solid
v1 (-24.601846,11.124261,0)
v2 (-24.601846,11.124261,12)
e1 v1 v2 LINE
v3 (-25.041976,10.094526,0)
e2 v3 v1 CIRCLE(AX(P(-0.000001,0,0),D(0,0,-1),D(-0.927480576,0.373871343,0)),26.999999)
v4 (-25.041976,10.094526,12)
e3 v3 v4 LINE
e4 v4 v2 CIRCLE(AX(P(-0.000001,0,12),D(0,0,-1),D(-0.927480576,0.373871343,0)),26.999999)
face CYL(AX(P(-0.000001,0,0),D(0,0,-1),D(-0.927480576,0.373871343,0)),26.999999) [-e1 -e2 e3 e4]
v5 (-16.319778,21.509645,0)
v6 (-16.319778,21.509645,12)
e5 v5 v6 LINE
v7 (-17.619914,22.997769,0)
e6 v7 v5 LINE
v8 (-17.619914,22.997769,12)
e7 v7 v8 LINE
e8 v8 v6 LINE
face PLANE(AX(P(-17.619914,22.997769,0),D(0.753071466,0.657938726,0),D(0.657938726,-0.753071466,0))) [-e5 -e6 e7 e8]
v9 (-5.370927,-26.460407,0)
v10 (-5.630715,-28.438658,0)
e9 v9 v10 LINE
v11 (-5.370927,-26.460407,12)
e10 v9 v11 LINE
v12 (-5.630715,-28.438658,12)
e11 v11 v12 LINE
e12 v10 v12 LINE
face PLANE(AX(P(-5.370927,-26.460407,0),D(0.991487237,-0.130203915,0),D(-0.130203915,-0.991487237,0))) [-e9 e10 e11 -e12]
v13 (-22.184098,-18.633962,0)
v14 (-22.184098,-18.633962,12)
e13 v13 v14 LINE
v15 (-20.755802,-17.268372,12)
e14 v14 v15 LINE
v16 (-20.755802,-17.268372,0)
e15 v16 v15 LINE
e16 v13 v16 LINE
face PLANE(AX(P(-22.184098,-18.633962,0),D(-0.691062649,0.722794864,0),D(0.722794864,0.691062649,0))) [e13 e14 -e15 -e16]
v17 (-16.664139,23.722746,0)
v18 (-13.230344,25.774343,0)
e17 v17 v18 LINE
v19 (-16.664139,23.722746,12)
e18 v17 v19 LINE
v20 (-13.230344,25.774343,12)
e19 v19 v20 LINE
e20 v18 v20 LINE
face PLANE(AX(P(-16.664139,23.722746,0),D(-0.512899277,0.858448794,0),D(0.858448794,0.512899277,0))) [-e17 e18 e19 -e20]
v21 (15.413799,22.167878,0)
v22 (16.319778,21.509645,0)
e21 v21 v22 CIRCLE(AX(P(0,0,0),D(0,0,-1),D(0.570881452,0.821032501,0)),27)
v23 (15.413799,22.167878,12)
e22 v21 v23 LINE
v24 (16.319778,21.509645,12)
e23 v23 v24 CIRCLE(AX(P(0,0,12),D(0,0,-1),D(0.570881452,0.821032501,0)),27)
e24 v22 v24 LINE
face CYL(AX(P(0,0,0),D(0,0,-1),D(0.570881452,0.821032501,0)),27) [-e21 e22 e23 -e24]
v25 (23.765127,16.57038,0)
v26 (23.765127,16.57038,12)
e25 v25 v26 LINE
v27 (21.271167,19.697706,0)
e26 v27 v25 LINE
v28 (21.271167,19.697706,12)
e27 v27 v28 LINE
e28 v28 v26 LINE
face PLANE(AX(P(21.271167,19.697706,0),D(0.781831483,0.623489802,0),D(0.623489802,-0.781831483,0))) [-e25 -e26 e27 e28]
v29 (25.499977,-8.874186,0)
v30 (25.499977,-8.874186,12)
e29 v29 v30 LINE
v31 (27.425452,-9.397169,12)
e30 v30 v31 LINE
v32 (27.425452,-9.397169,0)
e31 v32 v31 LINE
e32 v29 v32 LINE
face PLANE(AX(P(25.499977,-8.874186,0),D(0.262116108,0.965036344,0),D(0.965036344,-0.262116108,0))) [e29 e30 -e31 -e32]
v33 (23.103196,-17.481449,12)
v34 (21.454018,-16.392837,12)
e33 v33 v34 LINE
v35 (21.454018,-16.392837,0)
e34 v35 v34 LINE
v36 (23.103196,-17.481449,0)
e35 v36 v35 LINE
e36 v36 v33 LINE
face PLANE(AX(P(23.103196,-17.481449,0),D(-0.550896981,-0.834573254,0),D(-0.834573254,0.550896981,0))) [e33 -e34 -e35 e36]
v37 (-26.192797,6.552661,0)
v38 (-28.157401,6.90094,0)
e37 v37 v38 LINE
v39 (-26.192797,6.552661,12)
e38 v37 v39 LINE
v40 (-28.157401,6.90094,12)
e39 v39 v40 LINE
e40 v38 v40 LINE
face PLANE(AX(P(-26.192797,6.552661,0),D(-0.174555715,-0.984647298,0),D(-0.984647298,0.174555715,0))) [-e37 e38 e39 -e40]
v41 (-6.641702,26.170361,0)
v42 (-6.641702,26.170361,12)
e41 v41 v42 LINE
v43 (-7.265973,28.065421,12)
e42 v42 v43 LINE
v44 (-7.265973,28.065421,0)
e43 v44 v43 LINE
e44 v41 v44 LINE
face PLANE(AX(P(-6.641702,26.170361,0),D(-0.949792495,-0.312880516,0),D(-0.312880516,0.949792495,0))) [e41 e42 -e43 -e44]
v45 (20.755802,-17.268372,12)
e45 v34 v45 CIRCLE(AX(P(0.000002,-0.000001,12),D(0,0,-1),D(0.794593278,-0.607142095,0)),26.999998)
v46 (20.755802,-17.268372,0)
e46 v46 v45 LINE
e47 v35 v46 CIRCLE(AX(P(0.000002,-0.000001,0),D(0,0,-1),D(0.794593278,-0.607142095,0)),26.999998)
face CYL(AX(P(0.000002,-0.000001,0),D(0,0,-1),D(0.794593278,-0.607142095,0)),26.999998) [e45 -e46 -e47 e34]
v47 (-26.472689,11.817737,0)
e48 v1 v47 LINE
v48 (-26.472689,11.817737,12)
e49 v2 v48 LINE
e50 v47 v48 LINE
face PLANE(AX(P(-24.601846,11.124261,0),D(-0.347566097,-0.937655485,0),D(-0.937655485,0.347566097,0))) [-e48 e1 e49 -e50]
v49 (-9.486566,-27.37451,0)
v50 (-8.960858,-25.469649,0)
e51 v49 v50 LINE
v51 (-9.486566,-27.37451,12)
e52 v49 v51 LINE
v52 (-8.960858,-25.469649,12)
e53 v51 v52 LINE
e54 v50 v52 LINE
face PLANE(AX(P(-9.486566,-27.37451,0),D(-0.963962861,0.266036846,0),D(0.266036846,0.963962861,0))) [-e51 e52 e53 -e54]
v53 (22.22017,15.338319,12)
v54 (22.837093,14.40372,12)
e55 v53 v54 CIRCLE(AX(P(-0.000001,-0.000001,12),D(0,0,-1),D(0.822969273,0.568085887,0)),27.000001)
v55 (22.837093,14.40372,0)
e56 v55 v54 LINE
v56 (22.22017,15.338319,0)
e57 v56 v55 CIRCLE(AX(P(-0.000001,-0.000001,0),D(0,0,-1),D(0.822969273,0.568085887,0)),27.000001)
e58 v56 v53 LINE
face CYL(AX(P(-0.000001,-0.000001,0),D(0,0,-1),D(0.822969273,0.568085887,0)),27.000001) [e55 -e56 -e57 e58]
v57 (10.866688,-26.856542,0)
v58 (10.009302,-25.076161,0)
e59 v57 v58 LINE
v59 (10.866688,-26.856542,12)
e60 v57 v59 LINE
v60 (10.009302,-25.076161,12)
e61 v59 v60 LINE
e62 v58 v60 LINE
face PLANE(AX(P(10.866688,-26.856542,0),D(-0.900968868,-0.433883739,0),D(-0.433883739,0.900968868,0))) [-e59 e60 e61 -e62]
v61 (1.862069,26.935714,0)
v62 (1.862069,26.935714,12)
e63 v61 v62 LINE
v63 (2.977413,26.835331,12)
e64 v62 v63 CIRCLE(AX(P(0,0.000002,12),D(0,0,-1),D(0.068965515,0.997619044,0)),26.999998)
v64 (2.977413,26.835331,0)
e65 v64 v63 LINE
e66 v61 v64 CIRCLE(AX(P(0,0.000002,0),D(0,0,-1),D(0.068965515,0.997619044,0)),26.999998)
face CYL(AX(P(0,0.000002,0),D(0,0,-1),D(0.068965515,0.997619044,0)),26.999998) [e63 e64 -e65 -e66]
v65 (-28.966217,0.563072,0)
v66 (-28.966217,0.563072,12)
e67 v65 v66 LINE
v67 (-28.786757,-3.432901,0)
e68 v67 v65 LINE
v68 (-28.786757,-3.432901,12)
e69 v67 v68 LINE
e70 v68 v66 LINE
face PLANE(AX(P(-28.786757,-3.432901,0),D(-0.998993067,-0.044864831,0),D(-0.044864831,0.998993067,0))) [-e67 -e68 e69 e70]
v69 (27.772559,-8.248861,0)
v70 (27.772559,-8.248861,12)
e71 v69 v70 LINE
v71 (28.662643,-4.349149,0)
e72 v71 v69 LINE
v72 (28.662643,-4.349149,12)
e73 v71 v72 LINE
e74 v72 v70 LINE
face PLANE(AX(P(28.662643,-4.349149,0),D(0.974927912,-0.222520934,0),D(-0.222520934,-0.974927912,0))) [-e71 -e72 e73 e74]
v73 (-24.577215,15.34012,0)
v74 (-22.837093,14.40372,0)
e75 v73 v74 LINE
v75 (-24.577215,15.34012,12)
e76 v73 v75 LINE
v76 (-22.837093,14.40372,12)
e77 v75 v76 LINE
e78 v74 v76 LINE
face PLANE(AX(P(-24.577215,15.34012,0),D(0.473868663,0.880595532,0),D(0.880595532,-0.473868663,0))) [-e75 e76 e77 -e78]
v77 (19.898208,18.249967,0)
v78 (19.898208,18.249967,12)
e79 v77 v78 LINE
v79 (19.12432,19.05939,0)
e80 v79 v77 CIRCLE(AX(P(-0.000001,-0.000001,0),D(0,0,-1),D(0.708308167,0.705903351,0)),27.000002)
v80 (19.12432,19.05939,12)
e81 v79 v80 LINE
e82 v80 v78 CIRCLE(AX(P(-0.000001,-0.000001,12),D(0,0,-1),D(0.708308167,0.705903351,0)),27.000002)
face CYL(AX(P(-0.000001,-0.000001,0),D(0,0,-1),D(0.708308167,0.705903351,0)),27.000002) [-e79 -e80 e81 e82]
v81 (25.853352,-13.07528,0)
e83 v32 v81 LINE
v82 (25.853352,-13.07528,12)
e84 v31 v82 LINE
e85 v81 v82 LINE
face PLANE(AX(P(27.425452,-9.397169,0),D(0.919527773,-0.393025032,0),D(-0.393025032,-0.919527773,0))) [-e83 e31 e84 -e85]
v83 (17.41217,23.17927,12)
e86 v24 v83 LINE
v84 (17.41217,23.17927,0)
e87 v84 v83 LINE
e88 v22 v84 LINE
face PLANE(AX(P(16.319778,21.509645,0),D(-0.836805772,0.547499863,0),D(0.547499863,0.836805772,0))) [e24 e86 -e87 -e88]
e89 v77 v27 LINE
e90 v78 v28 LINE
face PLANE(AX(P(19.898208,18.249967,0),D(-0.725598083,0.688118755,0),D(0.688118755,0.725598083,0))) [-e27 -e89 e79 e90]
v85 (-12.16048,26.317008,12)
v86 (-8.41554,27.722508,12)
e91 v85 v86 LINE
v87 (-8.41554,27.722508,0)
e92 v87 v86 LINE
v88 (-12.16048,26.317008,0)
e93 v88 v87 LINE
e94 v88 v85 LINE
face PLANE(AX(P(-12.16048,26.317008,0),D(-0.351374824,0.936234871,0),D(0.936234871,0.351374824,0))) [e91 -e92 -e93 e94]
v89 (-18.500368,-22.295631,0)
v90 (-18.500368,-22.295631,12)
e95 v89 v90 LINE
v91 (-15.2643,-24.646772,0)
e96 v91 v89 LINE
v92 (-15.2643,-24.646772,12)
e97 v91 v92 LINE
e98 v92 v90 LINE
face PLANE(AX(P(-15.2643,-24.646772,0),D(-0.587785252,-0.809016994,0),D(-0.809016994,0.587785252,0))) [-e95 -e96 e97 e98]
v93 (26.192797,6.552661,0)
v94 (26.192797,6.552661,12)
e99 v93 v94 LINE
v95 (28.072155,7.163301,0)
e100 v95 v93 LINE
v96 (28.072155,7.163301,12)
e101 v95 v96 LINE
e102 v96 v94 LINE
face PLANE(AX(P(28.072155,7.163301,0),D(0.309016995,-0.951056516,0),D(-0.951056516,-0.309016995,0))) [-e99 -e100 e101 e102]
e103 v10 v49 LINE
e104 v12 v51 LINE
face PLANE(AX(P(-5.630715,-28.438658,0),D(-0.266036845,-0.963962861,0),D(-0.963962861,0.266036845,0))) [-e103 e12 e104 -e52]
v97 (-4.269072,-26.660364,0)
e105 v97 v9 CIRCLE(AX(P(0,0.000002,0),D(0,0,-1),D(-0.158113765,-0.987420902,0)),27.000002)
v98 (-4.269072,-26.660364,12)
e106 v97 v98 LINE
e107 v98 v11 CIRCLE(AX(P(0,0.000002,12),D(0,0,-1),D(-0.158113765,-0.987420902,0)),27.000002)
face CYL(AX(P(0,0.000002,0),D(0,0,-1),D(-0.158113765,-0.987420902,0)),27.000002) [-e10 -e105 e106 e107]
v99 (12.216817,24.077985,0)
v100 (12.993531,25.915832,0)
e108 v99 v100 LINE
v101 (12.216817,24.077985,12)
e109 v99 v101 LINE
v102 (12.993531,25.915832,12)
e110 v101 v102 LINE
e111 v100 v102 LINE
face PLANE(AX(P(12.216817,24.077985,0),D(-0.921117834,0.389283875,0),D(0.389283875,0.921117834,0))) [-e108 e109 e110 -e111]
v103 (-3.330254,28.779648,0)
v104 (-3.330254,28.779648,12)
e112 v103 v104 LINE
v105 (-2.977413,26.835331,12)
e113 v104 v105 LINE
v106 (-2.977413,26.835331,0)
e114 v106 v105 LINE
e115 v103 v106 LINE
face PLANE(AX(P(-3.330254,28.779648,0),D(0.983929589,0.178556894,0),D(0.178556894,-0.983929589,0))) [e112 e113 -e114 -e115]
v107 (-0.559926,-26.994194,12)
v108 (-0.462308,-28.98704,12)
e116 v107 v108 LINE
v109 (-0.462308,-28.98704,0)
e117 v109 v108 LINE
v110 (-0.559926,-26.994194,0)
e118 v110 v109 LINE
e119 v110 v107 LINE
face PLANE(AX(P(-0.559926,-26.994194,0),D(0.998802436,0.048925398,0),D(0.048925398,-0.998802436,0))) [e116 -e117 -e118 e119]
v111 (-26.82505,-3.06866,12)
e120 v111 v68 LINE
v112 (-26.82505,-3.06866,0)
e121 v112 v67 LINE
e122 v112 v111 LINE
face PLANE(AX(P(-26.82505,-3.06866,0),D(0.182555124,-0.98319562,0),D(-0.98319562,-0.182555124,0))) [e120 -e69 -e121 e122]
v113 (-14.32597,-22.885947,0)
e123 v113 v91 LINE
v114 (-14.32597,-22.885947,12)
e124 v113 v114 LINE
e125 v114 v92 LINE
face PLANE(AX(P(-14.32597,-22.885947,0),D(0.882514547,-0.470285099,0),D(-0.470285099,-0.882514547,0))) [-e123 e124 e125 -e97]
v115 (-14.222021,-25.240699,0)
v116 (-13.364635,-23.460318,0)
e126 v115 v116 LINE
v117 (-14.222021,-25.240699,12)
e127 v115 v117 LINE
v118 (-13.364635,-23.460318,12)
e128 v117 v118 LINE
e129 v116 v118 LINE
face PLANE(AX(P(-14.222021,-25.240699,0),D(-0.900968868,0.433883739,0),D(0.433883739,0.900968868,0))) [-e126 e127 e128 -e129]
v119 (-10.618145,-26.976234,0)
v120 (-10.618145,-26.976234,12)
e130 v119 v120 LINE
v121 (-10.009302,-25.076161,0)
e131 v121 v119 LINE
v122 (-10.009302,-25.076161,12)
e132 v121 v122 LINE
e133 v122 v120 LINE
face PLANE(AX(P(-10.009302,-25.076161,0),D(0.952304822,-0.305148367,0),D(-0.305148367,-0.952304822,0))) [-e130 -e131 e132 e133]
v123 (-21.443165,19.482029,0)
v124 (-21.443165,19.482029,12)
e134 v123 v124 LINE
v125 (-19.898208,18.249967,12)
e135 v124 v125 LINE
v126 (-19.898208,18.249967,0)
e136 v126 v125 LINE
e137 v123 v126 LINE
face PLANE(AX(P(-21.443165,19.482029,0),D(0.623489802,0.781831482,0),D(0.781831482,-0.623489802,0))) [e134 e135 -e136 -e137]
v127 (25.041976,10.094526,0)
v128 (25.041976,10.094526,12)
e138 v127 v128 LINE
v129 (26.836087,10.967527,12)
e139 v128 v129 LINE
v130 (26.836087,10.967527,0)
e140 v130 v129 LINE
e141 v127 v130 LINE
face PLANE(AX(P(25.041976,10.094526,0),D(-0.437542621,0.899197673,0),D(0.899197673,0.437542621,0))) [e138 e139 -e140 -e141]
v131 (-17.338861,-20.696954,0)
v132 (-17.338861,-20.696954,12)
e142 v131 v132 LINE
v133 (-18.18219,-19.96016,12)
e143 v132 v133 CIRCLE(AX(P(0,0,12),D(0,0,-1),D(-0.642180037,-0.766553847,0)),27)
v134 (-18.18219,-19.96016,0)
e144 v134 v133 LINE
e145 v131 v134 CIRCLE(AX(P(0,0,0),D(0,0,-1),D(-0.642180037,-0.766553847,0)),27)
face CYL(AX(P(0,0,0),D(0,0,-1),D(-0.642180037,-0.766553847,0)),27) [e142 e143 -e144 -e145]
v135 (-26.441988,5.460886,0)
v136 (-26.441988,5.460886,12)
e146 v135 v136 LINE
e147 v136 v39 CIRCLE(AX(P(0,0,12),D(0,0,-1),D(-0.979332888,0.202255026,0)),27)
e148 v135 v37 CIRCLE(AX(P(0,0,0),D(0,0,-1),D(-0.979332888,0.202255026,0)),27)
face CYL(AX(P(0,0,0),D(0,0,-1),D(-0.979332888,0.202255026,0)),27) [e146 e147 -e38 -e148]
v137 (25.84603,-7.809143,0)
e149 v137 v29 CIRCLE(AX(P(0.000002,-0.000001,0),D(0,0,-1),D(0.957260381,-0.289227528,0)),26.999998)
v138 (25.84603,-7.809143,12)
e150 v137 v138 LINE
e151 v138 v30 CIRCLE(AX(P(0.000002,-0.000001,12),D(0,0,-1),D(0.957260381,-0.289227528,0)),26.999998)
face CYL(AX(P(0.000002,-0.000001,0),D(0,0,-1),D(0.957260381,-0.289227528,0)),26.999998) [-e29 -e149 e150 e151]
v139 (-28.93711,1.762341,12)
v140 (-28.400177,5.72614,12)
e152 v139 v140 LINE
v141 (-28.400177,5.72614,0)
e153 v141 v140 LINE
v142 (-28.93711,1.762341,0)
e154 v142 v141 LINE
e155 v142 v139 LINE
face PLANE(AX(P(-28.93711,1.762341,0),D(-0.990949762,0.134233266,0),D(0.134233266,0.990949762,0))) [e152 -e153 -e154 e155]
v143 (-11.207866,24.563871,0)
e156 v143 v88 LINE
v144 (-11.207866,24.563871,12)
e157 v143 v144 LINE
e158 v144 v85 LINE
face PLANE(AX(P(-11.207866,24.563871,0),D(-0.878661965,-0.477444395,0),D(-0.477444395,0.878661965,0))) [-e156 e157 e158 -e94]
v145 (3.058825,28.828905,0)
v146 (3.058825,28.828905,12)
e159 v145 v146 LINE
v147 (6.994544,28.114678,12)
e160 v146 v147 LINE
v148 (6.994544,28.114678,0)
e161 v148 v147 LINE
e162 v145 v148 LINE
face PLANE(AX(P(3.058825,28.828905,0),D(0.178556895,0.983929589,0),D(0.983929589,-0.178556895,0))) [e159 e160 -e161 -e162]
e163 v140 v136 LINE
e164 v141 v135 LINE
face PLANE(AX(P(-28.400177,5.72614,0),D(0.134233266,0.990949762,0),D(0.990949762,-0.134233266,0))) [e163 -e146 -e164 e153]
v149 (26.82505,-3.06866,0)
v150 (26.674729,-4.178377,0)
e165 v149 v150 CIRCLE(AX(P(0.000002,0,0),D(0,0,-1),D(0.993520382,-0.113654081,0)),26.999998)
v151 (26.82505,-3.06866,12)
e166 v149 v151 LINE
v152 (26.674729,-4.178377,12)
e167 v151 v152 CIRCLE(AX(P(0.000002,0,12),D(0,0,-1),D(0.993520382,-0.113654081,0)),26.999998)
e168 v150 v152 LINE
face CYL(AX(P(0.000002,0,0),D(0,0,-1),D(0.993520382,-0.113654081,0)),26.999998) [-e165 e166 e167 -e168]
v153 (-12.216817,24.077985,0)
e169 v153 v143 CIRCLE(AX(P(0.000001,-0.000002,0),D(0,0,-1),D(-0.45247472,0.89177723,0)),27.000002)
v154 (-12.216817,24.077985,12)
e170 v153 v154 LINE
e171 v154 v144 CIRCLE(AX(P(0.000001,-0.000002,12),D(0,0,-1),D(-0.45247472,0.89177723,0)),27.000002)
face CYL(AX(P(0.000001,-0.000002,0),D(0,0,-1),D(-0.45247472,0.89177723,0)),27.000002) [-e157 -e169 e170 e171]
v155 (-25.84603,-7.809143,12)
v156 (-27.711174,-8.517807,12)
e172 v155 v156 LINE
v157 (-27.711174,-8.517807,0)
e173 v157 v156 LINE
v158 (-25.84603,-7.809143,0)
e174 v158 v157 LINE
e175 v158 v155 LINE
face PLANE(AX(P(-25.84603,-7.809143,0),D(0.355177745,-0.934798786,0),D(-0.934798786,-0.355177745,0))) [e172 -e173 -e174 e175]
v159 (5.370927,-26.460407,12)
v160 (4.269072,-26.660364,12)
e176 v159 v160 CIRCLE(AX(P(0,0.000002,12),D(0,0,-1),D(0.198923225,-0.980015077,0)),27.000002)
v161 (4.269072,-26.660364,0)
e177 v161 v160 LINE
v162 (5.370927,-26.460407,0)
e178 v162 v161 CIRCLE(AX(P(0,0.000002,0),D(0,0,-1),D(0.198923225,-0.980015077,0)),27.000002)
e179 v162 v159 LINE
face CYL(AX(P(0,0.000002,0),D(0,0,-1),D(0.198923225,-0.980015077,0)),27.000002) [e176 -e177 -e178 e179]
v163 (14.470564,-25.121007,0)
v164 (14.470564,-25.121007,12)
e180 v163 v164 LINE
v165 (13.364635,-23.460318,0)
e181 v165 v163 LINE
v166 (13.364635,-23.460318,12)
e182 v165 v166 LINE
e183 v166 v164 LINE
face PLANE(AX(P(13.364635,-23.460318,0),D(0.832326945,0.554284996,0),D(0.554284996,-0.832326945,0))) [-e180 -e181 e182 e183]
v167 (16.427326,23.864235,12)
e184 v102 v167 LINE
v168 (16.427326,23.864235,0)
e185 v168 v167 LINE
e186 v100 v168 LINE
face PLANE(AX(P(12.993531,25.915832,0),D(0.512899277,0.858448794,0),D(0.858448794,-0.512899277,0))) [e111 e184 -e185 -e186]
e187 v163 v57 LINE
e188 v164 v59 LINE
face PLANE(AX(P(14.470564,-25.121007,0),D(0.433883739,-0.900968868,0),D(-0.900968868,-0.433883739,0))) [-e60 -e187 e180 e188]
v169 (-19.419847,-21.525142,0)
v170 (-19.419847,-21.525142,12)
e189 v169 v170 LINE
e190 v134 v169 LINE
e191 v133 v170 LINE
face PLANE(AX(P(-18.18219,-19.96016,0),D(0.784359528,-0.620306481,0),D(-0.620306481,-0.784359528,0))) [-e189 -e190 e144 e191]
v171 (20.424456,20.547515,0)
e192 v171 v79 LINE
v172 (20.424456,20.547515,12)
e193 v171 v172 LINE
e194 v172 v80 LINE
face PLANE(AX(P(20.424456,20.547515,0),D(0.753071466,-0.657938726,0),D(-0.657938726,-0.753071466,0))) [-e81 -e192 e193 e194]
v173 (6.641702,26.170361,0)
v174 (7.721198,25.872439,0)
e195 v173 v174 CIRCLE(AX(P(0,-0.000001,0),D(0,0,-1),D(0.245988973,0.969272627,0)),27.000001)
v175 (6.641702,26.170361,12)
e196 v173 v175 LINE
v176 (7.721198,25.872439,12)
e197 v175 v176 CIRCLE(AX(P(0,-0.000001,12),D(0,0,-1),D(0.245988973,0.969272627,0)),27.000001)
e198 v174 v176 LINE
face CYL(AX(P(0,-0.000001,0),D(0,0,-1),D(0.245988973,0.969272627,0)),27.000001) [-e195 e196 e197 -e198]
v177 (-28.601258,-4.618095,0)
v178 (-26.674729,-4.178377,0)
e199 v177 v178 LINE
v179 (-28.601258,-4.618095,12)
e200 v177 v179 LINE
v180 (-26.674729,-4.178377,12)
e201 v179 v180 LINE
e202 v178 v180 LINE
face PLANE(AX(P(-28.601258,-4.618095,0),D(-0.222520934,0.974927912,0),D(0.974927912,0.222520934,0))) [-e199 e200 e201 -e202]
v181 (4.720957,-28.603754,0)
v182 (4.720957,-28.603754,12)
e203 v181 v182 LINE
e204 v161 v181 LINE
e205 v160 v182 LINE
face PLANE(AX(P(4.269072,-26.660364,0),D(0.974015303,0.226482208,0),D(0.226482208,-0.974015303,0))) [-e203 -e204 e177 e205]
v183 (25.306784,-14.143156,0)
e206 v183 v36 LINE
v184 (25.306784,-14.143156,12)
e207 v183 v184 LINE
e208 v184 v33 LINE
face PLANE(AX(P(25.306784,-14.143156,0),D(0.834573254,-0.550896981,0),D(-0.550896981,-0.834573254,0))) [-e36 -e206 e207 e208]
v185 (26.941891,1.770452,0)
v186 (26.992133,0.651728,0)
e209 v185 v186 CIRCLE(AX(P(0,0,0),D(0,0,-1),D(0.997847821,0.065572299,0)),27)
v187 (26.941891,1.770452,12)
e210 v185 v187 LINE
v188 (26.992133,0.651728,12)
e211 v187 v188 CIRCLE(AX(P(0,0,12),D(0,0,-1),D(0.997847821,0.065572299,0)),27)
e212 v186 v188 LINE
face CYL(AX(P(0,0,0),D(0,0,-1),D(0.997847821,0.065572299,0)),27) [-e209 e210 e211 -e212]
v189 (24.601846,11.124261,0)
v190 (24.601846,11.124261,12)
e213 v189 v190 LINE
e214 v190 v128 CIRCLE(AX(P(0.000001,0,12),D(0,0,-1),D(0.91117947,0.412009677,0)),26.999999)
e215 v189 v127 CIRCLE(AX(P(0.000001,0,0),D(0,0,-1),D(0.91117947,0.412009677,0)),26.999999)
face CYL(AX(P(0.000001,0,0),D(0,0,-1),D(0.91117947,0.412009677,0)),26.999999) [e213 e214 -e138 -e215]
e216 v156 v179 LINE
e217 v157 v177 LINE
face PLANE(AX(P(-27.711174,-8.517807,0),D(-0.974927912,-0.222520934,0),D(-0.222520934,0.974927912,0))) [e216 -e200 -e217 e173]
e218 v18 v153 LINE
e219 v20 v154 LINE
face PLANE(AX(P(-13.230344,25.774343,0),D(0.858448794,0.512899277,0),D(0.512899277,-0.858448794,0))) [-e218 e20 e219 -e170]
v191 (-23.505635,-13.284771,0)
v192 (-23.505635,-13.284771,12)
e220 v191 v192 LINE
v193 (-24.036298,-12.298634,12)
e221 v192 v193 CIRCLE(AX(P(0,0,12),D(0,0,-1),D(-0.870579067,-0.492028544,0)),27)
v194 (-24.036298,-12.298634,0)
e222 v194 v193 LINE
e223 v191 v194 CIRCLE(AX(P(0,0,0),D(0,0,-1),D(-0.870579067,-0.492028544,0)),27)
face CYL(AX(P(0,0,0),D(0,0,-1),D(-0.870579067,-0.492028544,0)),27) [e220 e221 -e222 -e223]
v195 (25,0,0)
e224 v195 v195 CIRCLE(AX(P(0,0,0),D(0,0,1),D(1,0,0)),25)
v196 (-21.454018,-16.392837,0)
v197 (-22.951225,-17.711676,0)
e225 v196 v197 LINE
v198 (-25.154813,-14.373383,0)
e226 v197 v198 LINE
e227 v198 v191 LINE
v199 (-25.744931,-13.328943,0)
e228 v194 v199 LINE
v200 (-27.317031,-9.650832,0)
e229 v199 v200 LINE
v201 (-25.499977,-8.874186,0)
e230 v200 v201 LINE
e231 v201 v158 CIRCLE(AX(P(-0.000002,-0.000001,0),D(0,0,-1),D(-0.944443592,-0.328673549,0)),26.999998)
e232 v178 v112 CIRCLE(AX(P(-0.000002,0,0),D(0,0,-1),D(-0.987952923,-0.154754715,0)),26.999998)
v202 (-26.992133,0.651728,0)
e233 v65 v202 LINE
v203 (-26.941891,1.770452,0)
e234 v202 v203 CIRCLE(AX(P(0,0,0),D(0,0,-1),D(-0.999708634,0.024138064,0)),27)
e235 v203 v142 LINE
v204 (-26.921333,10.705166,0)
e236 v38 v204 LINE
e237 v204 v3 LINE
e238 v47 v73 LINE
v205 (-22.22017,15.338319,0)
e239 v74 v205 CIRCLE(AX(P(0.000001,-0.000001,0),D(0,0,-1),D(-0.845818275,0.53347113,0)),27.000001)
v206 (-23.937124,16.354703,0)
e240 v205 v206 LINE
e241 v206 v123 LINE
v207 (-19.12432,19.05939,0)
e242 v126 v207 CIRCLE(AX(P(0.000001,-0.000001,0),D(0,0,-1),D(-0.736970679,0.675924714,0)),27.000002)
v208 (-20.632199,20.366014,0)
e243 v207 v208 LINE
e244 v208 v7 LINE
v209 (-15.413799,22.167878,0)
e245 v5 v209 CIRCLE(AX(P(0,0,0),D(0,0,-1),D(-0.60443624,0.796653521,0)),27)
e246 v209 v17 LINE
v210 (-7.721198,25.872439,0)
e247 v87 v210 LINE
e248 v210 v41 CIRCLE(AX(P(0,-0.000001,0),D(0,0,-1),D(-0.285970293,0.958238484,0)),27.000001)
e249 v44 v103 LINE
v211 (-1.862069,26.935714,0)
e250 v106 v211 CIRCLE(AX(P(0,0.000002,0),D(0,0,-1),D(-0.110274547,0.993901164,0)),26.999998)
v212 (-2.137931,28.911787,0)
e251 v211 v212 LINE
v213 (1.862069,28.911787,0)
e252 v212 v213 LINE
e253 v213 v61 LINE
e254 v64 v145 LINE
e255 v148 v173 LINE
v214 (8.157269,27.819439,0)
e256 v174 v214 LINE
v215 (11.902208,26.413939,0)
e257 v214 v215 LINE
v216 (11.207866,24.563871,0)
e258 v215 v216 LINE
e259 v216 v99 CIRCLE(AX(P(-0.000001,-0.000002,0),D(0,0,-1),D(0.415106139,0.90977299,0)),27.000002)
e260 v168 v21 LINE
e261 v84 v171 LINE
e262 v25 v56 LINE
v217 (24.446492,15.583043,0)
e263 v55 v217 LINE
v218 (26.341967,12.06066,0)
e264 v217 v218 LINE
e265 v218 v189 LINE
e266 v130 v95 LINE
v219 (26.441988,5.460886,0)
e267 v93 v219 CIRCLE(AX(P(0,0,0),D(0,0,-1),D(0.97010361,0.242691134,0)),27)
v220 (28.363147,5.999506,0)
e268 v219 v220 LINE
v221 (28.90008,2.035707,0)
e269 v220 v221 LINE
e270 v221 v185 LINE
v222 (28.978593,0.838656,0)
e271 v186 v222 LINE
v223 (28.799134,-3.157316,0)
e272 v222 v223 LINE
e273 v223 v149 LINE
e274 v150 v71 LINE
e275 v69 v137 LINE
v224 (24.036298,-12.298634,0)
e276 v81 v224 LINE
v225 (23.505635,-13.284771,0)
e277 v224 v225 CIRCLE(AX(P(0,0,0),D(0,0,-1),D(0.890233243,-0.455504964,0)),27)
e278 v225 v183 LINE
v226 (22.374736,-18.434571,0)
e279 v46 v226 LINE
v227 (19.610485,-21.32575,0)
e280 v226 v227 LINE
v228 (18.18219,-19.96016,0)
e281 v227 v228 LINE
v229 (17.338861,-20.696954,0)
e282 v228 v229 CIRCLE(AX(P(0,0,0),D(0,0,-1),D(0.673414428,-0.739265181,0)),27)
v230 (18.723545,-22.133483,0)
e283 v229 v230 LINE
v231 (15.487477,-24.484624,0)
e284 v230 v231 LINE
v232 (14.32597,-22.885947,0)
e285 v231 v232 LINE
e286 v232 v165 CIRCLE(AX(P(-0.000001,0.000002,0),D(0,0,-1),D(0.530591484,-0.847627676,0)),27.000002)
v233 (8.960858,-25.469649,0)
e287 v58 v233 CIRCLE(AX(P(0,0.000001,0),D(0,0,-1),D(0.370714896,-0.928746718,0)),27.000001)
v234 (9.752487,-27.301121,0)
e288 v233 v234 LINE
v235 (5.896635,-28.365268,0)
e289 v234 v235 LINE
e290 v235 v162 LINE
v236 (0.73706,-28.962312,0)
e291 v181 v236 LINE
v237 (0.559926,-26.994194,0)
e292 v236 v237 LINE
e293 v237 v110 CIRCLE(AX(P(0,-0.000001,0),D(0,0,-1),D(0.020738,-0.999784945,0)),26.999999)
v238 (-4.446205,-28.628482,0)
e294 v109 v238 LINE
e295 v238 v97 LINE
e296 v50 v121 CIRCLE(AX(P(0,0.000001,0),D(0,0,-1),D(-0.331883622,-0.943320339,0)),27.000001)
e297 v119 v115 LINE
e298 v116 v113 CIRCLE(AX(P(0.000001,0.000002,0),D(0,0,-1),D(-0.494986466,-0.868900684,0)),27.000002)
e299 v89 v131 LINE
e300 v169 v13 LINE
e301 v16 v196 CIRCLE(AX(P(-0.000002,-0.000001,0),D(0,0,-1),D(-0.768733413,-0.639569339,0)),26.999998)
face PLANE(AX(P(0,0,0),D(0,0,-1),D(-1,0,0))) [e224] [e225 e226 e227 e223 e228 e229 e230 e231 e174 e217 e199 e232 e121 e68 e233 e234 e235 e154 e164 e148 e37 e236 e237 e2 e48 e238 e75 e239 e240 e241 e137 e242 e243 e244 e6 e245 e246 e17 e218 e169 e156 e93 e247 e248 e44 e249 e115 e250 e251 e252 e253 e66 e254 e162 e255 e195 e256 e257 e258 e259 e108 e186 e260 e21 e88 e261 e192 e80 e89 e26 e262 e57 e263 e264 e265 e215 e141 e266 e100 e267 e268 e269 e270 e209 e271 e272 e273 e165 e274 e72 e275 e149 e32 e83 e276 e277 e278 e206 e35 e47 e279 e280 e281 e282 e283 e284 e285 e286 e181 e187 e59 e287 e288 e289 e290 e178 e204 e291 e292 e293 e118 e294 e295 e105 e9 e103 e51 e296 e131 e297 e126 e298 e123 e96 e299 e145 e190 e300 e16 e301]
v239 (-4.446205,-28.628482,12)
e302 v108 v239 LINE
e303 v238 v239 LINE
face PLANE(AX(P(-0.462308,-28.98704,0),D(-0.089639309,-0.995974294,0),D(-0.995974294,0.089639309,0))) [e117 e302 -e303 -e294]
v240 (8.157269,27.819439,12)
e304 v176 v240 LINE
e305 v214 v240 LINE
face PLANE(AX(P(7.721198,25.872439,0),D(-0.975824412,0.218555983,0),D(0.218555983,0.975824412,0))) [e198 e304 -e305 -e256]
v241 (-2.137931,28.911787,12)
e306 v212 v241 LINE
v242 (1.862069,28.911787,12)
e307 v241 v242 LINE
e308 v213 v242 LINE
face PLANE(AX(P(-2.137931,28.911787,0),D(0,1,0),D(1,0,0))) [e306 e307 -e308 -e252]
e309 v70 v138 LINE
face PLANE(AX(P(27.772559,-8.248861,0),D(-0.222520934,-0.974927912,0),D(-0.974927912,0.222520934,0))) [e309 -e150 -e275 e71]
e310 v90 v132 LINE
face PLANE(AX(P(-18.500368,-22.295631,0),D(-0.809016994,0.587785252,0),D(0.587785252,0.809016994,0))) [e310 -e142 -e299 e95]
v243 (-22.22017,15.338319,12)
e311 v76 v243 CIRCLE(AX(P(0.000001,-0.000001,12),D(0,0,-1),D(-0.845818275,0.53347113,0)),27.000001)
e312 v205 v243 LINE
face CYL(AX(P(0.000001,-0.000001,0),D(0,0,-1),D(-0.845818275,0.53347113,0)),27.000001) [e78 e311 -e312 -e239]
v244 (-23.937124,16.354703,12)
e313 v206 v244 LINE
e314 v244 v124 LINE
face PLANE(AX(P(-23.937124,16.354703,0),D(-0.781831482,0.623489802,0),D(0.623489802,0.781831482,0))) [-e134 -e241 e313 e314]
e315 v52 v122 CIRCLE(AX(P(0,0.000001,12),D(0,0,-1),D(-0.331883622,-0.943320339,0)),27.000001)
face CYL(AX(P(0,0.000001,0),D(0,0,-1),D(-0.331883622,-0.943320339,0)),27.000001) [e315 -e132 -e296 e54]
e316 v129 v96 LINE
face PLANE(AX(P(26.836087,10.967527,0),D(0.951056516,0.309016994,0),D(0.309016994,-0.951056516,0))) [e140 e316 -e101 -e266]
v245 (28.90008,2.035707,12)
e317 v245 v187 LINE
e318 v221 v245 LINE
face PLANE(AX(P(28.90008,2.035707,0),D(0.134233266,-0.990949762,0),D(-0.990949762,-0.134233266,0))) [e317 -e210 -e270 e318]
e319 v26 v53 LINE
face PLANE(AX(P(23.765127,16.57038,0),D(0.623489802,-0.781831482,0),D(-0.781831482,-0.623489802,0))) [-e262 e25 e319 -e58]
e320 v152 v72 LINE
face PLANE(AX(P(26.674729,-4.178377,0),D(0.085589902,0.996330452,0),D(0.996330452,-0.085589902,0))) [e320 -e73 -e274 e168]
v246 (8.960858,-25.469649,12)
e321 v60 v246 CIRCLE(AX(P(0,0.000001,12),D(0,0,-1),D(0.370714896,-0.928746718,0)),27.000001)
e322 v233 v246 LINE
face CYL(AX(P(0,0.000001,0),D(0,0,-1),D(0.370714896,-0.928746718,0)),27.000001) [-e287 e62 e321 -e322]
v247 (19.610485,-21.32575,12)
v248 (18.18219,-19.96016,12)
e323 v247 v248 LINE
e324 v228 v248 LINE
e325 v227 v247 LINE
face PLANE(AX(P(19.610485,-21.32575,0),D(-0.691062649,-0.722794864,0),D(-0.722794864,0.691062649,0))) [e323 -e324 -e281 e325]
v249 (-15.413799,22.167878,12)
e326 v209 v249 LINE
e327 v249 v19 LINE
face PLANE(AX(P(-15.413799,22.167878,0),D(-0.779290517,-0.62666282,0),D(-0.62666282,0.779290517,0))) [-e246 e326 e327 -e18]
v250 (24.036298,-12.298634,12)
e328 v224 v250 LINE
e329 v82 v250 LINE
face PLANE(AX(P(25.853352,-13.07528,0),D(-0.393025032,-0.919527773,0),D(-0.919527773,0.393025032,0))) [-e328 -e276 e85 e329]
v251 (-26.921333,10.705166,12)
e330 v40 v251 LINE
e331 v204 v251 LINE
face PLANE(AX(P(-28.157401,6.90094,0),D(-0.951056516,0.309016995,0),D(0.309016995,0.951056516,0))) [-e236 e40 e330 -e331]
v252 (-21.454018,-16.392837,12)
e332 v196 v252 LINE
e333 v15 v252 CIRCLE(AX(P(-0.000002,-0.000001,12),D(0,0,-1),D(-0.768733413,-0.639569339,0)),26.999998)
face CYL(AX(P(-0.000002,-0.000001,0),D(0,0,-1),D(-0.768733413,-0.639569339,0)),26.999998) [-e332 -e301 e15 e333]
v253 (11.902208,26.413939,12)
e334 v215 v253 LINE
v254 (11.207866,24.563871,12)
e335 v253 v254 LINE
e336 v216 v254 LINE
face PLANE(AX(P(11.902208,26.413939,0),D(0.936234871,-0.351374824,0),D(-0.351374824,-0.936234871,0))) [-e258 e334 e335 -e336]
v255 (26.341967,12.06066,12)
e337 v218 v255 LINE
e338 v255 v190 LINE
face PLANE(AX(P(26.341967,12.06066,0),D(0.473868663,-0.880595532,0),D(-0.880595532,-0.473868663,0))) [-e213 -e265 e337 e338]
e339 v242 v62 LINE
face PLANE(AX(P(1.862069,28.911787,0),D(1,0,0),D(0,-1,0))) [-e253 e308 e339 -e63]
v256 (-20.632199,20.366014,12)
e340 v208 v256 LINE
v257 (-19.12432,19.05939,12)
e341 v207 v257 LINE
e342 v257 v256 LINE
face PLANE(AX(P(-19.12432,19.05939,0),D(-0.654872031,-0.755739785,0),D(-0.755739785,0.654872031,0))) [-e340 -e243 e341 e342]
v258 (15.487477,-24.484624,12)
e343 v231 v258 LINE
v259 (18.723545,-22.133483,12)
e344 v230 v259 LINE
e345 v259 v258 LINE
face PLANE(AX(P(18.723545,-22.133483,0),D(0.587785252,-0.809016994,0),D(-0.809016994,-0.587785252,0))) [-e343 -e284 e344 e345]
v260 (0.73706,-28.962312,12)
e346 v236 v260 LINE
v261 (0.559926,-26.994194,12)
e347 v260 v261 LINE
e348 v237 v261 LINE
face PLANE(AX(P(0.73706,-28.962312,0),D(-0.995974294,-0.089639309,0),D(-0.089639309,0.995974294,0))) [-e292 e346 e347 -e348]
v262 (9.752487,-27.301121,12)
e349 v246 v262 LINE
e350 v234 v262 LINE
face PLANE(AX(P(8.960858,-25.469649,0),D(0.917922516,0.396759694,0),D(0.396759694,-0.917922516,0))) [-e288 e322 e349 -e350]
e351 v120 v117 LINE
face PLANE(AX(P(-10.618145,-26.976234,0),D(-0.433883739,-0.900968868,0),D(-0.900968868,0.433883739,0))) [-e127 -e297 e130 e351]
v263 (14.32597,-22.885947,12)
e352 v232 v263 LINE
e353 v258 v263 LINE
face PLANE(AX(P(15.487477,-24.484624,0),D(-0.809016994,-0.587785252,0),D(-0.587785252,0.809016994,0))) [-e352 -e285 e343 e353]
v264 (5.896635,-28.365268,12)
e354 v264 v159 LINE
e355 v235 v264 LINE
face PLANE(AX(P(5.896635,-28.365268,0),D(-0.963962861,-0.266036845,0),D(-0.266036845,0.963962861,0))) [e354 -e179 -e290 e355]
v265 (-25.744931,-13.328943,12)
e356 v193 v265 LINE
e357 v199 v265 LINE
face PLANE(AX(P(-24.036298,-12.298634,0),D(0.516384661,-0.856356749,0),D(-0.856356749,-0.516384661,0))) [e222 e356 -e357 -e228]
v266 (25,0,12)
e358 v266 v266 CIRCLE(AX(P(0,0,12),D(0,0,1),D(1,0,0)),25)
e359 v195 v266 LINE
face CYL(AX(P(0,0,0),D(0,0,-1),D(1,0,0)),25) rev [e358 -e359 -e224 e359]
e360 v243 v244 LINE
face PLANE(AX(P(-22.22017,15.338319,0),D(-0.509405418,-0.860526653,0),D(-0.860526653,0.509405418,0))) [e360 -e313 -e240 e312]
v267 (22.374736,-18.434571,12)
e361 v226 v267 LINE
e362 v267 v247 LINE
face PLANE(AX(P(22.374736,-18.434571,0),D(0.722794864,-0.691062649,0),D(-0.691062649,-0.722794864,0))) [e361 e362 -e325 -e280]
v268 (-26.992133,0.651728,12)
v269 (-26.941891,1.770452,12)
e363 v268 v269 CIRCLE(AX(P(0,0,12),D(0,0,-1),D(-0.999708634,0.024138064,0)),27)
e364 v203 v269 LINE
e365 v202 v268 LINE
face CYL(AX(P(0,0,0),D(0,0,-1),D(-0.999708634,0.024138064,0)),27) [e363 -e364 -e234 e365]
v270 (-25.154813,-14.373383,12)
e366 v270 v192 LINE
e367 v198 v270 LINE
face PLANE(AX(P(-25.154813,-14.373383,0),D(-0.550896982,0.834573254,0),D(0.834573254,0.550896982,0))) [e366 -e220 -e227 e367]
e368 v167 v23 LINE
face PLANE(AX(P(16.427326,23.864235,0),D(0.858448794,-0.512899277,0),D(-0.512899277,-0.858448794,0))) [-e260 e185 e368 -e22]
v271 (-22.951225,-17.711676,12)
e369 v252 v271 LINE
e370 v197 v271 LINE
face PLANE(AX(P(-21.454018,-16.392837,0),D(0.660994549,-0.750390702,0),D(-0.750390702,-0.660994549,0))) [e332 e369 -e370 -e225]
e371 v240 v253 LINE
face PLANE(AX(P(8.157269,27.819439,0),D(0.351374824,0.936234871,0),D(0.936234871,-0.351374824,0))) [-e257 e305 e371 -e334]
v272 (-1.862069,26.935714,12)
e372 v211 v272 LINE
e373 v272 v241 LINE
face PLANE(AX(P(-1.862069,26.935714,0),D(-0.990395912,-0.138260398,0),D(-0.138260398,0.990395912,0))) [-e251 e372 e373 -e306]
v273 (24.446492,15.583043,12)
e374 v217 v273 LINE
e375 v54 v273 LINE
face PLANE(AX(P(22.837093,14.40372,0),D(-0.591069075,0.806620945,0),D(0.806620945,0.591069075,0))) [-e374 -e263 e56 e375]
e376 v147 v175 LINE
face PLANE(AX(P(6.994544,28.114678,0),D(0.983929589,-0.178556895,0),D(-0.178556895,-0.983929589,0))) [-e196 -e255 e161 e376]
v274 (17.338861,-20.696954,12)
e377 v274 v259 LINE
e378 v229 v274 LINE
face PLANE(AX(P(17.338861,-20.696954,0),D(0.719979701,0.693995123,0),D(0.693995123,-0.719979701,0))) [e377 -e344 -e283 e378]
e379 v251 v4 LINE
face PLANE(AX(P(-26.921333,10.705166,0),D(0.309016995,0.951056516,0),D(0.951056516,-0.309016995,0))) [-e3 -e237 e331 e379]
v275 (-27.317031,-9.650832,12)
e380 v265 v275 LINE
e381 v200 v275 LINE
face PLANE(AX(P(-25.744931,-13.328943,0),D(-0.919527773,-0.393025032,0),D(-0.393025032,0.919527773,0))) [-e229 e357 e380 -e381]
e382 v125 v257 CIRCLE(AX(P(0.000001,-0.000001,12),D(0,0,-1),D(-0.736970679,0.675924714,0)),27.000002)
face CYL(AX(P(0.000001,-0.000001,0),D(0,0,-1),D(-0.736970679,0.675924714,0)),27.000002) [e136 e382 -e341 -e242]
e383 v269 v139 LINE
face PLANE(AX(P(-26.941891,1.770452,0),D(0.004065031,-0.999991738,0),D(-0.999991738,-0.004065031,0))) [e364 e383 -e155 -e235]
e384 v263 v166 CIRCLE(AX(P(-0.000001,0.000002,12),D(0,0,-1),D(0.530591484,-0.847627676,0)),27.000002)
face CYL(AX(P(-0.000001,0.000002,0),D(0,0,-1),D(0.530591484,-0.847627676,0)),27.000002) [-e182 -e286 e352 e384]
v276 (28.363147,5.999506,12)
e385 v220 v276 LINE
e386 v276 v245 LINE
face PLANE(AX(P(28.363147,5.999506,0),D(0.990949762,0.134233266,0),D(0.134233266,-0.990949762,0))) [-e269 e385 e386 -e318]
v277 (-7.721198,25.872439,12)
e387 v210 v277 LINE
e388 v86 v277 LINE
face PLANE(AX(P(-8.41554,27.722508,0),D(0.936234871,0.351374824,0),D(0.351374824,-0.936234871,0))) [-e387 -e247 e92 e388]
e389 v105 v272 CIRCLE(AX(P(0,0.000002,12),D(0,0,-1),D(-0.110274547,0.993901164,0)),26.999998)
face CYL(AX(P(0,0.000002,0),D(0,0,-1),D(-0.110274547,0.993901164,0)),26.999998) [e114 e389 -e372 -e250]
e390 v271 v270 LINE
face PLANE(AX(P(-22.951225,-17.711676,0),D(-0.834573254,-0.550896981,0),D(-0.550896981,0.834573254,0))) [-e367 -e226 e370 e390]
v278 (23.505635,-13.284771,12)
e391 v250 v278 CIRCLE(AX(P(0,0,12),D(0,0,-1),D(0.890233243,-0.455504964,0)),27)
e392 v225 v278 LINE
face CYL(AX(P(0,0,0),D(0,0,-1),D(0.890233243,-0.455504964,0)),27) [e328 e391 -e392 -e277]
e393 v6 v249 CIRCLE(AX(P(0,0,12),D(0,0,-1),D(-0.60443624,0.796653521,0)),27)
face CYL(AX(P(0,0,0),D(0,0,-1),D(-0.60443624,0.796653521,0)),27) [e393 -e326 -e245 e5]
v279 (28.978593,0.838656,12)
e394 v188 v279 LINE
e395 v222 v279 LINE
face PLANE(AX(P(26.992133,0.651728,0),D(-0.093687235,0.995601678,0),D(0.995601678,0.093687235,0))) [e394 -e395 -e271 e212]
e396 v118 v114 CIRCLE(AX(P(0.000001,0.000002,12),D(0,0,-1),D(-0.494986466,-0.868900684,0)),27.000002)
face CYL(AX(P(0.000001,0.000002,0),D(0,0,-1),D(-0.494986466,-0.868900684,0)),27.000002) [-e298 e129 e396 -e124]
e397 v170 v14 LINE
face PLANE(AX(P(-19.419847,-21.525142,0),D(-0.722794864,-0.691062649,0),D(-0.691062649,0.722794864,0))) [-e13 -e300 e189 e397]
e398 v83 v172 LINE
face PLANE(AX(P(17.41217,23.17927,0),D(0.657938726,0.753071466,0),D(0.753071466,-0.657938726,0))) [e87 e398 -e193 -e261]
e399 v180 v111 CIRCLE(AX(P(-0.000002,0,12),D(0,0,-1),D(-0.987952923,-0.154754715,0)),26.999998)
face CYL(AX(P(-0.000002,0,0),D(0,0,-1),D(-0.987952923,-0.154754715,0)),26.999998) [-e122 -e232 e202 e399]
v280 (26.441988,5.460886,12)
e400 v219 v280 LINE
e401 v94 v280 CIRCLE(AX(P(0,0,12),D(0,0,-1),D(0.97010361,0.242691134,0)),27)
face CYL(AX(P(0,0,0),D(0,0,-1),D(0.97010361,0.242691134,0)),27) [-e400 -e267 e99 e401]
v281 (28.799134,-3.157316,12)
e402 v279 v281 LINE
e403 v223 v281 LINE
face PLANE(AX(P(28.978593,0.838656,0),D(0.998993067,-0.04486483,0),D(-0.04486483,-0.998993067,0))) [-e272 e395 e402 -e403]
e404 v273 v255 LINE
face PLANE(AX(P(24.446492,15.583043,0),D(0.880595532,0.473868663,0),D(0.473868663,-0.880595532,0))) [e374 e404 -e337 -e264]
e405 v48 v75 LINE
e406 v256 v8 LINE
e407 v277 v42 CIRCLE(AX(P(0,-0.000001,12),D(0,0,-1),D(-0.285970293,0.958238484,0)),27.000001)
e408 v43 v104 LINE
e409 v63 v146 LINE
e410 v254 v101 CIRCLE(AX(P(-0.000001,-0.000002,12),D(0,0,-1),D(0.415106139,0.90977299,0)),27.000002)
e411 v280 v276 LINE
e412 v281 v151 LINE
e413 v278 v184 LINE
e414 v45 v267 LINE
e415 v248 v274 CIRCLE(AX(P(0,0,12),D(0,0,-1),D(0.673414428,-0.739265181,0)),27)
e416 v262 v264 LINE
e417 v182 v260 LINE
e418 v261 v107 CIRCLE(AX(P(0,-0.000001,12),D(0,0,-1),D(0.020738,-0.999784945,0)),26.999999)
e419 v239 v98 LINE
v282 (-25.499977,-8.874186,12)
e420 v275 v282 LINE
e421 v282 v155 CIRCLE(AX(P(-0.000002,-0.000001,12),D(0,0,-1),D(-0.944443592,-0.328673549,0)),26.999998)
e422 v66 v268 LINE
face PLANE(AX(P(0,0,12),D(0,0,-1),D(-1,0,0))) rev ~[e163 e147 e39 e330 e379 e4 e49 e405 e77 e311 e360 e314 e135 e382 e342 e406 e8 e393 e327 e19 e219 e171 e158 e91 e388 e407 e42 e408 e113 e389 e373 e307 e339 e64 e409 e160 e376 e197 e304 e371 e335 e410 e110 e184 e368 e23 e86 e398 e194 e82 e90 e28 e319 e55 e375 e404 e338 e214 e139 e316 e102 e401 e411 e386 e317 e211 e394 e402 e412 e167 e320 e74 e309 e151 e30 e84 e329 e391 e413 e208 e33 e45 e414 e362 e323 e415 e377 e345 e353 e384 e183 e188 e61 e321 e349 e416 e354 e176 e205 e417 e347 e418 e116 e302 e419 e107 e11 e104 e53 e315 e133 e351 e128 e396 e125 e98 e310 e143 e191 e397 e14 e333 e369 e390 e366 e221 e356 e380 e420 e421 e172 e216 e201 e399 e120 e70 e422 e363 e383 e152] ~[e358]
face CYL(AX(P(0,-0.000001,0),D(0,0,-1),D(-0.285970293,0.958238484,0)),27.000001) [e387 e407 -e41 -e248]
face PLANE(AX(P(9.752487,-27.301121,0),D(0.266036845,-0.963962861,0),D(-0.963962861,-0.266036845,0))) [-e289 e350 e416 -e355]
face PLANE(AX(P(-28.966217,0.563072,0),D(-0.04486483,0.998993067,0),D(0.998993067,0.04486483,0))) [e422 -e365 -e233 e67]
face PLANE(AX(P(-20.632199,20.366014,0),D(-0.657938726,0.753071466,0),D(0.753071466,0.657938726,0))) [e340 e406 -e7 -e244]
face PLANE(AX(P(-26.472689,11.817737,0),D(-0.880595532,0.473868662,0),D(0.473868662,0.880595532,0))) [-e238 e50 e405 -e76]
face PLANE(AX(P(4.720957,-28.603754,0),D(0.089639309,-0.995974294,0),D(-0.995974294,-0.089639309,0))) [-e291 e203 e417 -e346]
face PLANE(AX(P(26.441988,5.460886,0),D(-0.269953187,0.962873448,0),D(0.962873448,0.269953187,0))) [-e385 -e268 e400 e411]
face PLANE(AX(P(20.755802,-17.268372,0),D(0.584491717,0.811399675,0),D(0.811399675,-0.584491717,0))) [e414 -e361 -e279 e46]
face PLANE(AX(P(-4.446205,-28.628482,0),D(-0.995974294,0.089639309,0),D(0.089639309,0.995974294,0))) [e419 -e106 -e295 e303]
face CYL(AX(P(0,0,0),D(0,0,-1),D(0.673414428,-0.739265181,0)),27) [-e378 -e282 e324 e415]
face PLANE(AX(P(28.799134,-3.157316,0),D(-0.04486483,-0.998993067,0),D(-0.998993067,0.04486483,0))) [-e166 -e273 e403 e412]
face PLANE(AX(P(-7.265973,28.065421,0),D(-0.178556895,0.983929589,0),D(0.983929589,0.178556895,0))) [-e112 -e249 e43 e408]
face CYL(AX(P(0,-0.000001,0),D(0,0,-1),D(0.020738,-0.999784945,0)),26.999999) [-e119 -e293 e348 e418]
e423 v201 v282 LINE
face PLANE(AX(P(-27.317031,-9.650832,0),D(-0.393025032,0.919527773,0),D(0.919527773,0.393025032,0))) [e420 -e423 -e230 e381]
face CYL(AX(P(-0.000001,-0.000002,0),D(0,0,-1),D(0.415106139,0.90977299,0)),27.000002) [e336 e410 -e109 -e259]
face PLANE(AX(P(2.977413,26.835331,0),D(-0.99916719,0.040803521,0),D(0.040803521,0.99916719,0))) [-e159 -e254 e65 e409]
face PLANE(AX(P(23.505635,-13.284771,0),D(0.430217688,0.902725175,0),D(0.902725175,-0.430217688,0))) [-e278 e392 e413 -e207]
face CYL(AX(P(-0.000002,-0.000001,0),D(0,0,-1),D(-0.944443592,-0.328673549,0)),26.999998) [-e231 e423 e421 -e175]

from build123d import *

# Parameters (mm, degrees)
SKETCH2_R           = 25
BOSS_EXTRUDE1_DEPTH = 12


with BuildPart() as part:
    # Sketch2 → Boss-Extrude1 (new body)
    with BuildSketch(Plane.XY):
        with BuildLine():
            Line((-2.137931034, 28.911787374), (1.862068966, 28.911787374))
            Line((1.862068966, 28.911787374), (1.862068966, 26.935714194))
            ThreePointArc((1.862068966, 26.935714194), (2.42026134, 26.891305938), (2.977412735, 26.835331438))
            Line((2.977412735, 26.835331438), (3.058825373, 28.828905384))
            Line((3.058825373, 28.828905384), (6.994543728, 28.114677805))
            Line((6.994543728, 28.114677805), (6.641702237, 26.170360934))
            ThreePointArc((6.641702237, 26.170360934), (7.18299483, 26.026997239), (7.72119794, 25.87243905))
            Line((7.72119794, 25.87243905), (8.157268617, 27.819438654))
            Line((8.157268617, 27.819438654), (11.9022081, 26.413939357))
            Line((11.9022081, 26.413939357), (11.207865734, 24.563870739))
            ThreePointArc((11.207865734, 24.563870739), (11.714860956, 24.326159433), (12.21681749, 24.077985182))
            Line((12.21681749, 24.077985182), (12.993530536, 25.915832275))
            Line((12.993530536, 25.915832275), (16.42732571, 23.864235166))
            Line((16.42732571, 23.864235166), (15.413799204, 22.167877528))
            ThreePointArc((15.413799204, 22.167877528), (15.870201812, 21.843458848), (16.319778474, 21.509645059))
            Line((16.319778474, 21.509645059), (17.412169691, 23.179269724))
            Line((17.412169691, 23.179269724), (20.424455555, 20.54751482))
            Line((20.424455555, 20.54751482), (19.124320485, 19.059390494))
            ThreePointArc((19.124320485, 19.059390494), (19.515461323, 18.658691523), (19.89820835, 18.249967246))
            Line((19.89820835, 18.249967246), (21.271167387, 19.697706372))
            Line((21.271167387, 19.697706372), (23.765126594, 16.570380442))
            Line((23.765126594, 16.570380442), (22.22017037, 15.338318966))
            ThreePointArc((22.22017037, 15.338318966), (22.53347785, 14.874218499), (22.837093437, 14.403720469))
            Line((22.837093437, 14.403720469), (24.44649226, 15.583042529))
            Line((24.44649226, 15.583042529), (26.34196691, 12.060660402))
            Line((26.34196691, 12.060660402), (24.601845697, 11.124261247))
            ThreePointArc((24.601845697, 11.124261247), (24.827249859, 10.611675855), (25.041975551, 10.094526265))
            Line((25.041975551, 10.094526265), (26.836086758, 10.967526878))
            Line((26.836086758, 10.967526878), (28.072154735, 7.163300813))
            Line((28.072154735, 7.163300813), (26.192797461, 6.552660618))
            ThreePointArc((26.192797461, 6.552660618), (26.323053629, 6.008065217), (26.441987966, 5.460885681))
            Line((26.441987966, 5.460885681), (28.363147346, 5.999505889))
            Line((28.363147346, 5.999505889), (28.900080409, 2.035706842))
            Line((28.900080409, 2.035706842), (26.941891163, 1.770452086))
            ThreePointArc((26.941891163, 1.770452086), (26.972812797, 1.211350419), (26.992133131, 0.651727738))
            Line((26.992133131, 0.651727738), (28.978593042, 0.838655845))
            Line((28.978593042, 0.838655845), (28.79913372, -3.157316422))
            Line((28.79913372, -3.157316422), (26.825050314, -3.068660234))
            ThreePointArc((26.825050314, -3.068660234), (26.755643568, -3.624298177), (26.674728928, -4.17837727))
            Line((26.674728928, -4.17837727), (28.662642913, -4.349149289))
            Line((28.662642913, -4.349149289), (27.772559177, -8.248860938))
            Line((27.772559177, -8.248860938), (25.846030277, -7.809143288))
            ThreePointArc((25.846030277, -7.809143288), (25.67852594, -8.343458848), (25.499976989, -8.874185796))
            Line((25.499976989, -8.874185796), (27.425451857, -9.397169186))
            Line((27.425451857, -9.397169186), (25.853351731, -13.075280276))
            Line((25.853351731, -13.075280276), (24.036297561, -12.298634052))
            ThreePointArc((24.036297561, -12.298634052), (23.77607936, -12.794453887), (23.505634809, -13.284770688))
            Line((23.505634809, -13.284770688), (25.306784213, -14.143156333))
            Line((25.306784213, -14.143156333), (23.103196288, -17.481449348))
            Line((23.103196288, -17.481449348), (21.454018464, -16.392836598))
            ThreePointArc((21.454018464, -16.392836598), (21.109450027, -16.83422465), (20.755802185, -17.268372119))
            Line((20.755802185, -17.268372119), (22.374735702, -18.434570799))
            Line((22.374735702, -18.434570799), (19.610485106, -21.325750254))
            Line((19.610485106, -21.325750254), (18.182189561, -19.960159888))
            ThreePointArc((18.182189561, -19.960159888), (17.7643456, -20.332929582), (17.338861001, -20.696953862))
            Line((17.338861001, -20.696953862), (18.723544776, -22.133482991))
            Line((18.723544776, -22.133482991), (15.487476798, -24.484624))
            Line((15.487476798, -24.484624), (14.325970126, -22.885947216))
            ThreePointArc((14.325970126, -22.885947216), (13.84828049, -23.178117427), (13.364634558, -23.460318479))
            Line((13.364634558, -23.460318479), (14.470563714, -25.121006829))
            Line((14.470563714, -25.121006829), (10.866688243, -26.856541785))
            Line((10.866688243, -26.856541785), (10.009302223, -25.076161369))
            ThreePointArc((10.009302223, -25.076161369), (9.48712025, -25.278341507), (8.960857764, -25.469649156))
            Line((8.960857764, -25.469649156), (9.752486829, -27.301120837))
            Line((9.752486829, -27.301120837), (5.896635386, -28.365268219))
            Line((5.896635386, -28.365268219), (5.370927111, -26.460407064))
            ThreePointArc((5.370927111, -26.460407064), (4.82103616, -26.566098892), (4.269071629, -26.660364353))
            Line((4.269071629, -26.660364353), (4.720956992, -28.603754358))
            Line((4.720956992, -28.603754358), (0.737059816, -28.962311594))
            Line((0.737059816, -28.962311594), (0.559925982, -26.994193503))
            ThreePointArc((0.559925982, -26.994193503), (0, -27), (-0.559925982, -26.994193503))
            Line((-0.559925982, -26.994193503), (-0.462308287, -28.987039679))
            Line((-0.462308287, -28.987039679), (-4.446205463, -28.628482443))
            Line((-4.446205463, -28.628482443), (-4.269071629, -26.660364353))
            ThreePointArc((-4.269071629, -26.660364353), (-4.82103616, -26.566098892), (-5.370927111, -26.460407064))
            Line((-5.370927111, -26.460407064), (-5.630714597, -28.438657694))
            Line((-5.630714597, -28.438657694), (-9.48656604, -27.374510312))
            Line((-9.48656604, -27.374510312), (-8.960857764, -25.469649156))
            ThreePointArc((-8.960857764, -25.469649156), (-9.48712025, -25.278341507), (-10.009302223, -25.076161369))
            Line((-10.009302223, -25.076161369), (-10.618145107, -26.976233851))
            Line((-10.618145107, -26.976233851), (-14.222020578, -25.240698895))
            Line((-14.222020578, -25.240698895), (-13.364634558, -23.460318479))
            ThreePointArc((-13.364634558, -23.460318479), (-13.84828049, -23.178117427), (-14.325970126, -22.885947216))
            Line((-14.325970126, -22.885947216), (-15.264299696, -24.646771656))
            Line((-15.264299696, -24.646771656), (-18.500367674, -22.295630647))
            Line((-18.500367674, -22.295630647), (-17.338861001, -20.696953862))
            ThreePointArc((-17.338861001, -20.696953862), (-17.7643456, -20.332929582), (-18.182189561, -19.960159888))
            Line((-18.182189561, -19.960159888), (-19.419847134, -21.525141941))
            Line((-19.419847134, -21.525141941), (-22.18409773, -18.633962486))
            Line((-22.18409773, -18.633962486), (-20.755802185, -17.268372119))
            ThreePointArc((-20.755802185, -17.268372119), (-21.109450027, -16.83422465), (-21.454018464, -16.392836598))
            Line((-21.454018464, -16.392836598), (-22.951224707, -17.711676453))
            Line((-22.951224707, -17.711676453), (-25.154812632, -14.373383438))
            Line((-25.154812632, -14.373383438), (-23.505634809, -13.284770688))
            ThreePointArc((-23.505634809, -13.284770688), (-23.77607936, -12.794453887), (-24.036297561, -12.298634052))
            Line((-24.036297561, -12.298634052), (-25.744931032, -13.32894311))
            Line((-25.744931032, -13.32894311), (-27.317031159, -9.65083202))
            Line((-27.317031159, -9.65083202), (-25.499976989, -8.874185796))
            ThreePointArc((-25.499976989, -8.874185796), (-25.67852594, -8.343458848), (-25.846030277, -7.809143288))
            Line((-25.846030277, -7.809143288), (-27.711174092, -8.517806569))
            Line((-27.711174092, -8.517806569), (-28.601257828, -4.61809492))
            Line((-28.601257828, -4.61809492), (-26.674728928, -4.17837727))
            ThreePointArc((-26.674728928, -4.17837727), (-26.755643568, -3.624298177), (-26.825050314, -3.068660234))
            Line((-26.825050314, -3.068660234), (-28.786757215, -3.432900716))
            Line((-28.786757215, -3.432900716), (-28.966216537, 0.56307155))
            Line((-28.966216537, 0.56307155), (-26.992133131, 0.651727738))
            ThreePointArc((-26.992133131, 0.651727738), (-26.972812797, 1.211350419), (-26.941891163, 1.770452086))
            Line((-26.941891163, 1.770452086), (-28.937110276, 1.762341391))
            Line((-28.937110276, 1.762341391), (-28.400177213, 5.726140438))
            Line((-28.400177213, 5.726140438), (-26.441987966, 5.460885681))
            ThreePointArc((-26.441987966, 5.460885681), (-26.323053629, 6.008065217), (-26.192797461, 6.552660618))
            Line((-26.192797461, 6.552660618), (-28.157400803, 6.900940395))
            Line((-28.157400803, 6.900940395), (-26.921332825, 10.70516646))
            Line((-26.921332825, 10.70516646), (-25.041975551, 10.094526265))
            ThreePointArc((-25.041975551, 10.094526265), (-24.827249859, 10.611675855), (-24.601845697, 11.124261247))
            Line((-24.601845697, 11.124261247), (-26.4726893, 11.817737496))
            Line((-26.4726893, 11.817737496), (-24.57721465, 15.340119624))
            Line((-24.57721465, 15.340119624), (-22.837093437, 14.403720469))
            ThreePointArc((-22.837093437, 14.403720469), (-22.53347785, 14.874218499), (-22.22017037, 15.338318966))
            Line((-22.22017037, 15.338318966), (-23.937123781, 16.354702791))
            Line((-23.937123781, 16.354702791), (-21.443164573, 19.482028721))
            Line((-21.443164573, 19.482028721), (-19.89820835, 18.249967246))
            ThreePointArc((-19.89820835, 18.249967246), (-19.515461323, 18.658691523), (-19.124320485, 19.059390494))
            Line((-19.124320485, 19.059390494), (-20.632199408, 20.366014482))
            Line((-20.632199408, 20.366014482), (-17.619913544, 22.997769386))
            Line((-17.619913544, 22.997769386), (-16.319778474, 21.509645059))
            ThreePointArc((-16.319778474, 21.509645059), (-15.870201812, 21.843458848), (-15.413799204, 22.167877528))
            Line((-15.413799204, 22.167877528), (-16.66413917, 23.72274571))
            Line((-16.66413917, 23.72274571), (-13.230343996, 25.774342819))
            Line((-13.230343996, 25.774342819), (-12.21681749, 24.077985182))
            ThreePointArc((-12.21681749, 24.077985182), (-11.714860956, 24.326159433), (-11.207865734, 24.563870739))
            Line((-11.207865734, 24.563870739), (-12.160479788, 26.317008371))
            Line((-12.160479788, 26.317008371), (-8.415540306, 27.722507668))
            Line((-8.415540306, 27.722507668), (-7.72119794, 25.87243905))
            ThreePointArc((-7.72119794, 25.87243905), (-7.18299483, 26.026997239), (-6.641702237, 26.170360934))
            Line((-6.641702237, 26.170360934), (-7.26597258, 28.06542073))
            Line((-7.26597258, 28.06542073), (-3.330254225, 28.779648309))
            Line((-3.330254225, 28.779648309), (-2.977412735, 26.835331438))
            ThreePointArc((-2.977412735, 26.835331438), (-2.42026134, 26.891305938), (-1.862068966, 26.935714194))
            Line((-1.862068966, 26.935714194), (-2.137931034, 28.911787374))
        make_face()
        Circle(SKETCH2_R, mode=Mode.SUBTRACT)
    extrude(amount=BOSS_EXTRUDE1_DEPTH)


solid = part.part
